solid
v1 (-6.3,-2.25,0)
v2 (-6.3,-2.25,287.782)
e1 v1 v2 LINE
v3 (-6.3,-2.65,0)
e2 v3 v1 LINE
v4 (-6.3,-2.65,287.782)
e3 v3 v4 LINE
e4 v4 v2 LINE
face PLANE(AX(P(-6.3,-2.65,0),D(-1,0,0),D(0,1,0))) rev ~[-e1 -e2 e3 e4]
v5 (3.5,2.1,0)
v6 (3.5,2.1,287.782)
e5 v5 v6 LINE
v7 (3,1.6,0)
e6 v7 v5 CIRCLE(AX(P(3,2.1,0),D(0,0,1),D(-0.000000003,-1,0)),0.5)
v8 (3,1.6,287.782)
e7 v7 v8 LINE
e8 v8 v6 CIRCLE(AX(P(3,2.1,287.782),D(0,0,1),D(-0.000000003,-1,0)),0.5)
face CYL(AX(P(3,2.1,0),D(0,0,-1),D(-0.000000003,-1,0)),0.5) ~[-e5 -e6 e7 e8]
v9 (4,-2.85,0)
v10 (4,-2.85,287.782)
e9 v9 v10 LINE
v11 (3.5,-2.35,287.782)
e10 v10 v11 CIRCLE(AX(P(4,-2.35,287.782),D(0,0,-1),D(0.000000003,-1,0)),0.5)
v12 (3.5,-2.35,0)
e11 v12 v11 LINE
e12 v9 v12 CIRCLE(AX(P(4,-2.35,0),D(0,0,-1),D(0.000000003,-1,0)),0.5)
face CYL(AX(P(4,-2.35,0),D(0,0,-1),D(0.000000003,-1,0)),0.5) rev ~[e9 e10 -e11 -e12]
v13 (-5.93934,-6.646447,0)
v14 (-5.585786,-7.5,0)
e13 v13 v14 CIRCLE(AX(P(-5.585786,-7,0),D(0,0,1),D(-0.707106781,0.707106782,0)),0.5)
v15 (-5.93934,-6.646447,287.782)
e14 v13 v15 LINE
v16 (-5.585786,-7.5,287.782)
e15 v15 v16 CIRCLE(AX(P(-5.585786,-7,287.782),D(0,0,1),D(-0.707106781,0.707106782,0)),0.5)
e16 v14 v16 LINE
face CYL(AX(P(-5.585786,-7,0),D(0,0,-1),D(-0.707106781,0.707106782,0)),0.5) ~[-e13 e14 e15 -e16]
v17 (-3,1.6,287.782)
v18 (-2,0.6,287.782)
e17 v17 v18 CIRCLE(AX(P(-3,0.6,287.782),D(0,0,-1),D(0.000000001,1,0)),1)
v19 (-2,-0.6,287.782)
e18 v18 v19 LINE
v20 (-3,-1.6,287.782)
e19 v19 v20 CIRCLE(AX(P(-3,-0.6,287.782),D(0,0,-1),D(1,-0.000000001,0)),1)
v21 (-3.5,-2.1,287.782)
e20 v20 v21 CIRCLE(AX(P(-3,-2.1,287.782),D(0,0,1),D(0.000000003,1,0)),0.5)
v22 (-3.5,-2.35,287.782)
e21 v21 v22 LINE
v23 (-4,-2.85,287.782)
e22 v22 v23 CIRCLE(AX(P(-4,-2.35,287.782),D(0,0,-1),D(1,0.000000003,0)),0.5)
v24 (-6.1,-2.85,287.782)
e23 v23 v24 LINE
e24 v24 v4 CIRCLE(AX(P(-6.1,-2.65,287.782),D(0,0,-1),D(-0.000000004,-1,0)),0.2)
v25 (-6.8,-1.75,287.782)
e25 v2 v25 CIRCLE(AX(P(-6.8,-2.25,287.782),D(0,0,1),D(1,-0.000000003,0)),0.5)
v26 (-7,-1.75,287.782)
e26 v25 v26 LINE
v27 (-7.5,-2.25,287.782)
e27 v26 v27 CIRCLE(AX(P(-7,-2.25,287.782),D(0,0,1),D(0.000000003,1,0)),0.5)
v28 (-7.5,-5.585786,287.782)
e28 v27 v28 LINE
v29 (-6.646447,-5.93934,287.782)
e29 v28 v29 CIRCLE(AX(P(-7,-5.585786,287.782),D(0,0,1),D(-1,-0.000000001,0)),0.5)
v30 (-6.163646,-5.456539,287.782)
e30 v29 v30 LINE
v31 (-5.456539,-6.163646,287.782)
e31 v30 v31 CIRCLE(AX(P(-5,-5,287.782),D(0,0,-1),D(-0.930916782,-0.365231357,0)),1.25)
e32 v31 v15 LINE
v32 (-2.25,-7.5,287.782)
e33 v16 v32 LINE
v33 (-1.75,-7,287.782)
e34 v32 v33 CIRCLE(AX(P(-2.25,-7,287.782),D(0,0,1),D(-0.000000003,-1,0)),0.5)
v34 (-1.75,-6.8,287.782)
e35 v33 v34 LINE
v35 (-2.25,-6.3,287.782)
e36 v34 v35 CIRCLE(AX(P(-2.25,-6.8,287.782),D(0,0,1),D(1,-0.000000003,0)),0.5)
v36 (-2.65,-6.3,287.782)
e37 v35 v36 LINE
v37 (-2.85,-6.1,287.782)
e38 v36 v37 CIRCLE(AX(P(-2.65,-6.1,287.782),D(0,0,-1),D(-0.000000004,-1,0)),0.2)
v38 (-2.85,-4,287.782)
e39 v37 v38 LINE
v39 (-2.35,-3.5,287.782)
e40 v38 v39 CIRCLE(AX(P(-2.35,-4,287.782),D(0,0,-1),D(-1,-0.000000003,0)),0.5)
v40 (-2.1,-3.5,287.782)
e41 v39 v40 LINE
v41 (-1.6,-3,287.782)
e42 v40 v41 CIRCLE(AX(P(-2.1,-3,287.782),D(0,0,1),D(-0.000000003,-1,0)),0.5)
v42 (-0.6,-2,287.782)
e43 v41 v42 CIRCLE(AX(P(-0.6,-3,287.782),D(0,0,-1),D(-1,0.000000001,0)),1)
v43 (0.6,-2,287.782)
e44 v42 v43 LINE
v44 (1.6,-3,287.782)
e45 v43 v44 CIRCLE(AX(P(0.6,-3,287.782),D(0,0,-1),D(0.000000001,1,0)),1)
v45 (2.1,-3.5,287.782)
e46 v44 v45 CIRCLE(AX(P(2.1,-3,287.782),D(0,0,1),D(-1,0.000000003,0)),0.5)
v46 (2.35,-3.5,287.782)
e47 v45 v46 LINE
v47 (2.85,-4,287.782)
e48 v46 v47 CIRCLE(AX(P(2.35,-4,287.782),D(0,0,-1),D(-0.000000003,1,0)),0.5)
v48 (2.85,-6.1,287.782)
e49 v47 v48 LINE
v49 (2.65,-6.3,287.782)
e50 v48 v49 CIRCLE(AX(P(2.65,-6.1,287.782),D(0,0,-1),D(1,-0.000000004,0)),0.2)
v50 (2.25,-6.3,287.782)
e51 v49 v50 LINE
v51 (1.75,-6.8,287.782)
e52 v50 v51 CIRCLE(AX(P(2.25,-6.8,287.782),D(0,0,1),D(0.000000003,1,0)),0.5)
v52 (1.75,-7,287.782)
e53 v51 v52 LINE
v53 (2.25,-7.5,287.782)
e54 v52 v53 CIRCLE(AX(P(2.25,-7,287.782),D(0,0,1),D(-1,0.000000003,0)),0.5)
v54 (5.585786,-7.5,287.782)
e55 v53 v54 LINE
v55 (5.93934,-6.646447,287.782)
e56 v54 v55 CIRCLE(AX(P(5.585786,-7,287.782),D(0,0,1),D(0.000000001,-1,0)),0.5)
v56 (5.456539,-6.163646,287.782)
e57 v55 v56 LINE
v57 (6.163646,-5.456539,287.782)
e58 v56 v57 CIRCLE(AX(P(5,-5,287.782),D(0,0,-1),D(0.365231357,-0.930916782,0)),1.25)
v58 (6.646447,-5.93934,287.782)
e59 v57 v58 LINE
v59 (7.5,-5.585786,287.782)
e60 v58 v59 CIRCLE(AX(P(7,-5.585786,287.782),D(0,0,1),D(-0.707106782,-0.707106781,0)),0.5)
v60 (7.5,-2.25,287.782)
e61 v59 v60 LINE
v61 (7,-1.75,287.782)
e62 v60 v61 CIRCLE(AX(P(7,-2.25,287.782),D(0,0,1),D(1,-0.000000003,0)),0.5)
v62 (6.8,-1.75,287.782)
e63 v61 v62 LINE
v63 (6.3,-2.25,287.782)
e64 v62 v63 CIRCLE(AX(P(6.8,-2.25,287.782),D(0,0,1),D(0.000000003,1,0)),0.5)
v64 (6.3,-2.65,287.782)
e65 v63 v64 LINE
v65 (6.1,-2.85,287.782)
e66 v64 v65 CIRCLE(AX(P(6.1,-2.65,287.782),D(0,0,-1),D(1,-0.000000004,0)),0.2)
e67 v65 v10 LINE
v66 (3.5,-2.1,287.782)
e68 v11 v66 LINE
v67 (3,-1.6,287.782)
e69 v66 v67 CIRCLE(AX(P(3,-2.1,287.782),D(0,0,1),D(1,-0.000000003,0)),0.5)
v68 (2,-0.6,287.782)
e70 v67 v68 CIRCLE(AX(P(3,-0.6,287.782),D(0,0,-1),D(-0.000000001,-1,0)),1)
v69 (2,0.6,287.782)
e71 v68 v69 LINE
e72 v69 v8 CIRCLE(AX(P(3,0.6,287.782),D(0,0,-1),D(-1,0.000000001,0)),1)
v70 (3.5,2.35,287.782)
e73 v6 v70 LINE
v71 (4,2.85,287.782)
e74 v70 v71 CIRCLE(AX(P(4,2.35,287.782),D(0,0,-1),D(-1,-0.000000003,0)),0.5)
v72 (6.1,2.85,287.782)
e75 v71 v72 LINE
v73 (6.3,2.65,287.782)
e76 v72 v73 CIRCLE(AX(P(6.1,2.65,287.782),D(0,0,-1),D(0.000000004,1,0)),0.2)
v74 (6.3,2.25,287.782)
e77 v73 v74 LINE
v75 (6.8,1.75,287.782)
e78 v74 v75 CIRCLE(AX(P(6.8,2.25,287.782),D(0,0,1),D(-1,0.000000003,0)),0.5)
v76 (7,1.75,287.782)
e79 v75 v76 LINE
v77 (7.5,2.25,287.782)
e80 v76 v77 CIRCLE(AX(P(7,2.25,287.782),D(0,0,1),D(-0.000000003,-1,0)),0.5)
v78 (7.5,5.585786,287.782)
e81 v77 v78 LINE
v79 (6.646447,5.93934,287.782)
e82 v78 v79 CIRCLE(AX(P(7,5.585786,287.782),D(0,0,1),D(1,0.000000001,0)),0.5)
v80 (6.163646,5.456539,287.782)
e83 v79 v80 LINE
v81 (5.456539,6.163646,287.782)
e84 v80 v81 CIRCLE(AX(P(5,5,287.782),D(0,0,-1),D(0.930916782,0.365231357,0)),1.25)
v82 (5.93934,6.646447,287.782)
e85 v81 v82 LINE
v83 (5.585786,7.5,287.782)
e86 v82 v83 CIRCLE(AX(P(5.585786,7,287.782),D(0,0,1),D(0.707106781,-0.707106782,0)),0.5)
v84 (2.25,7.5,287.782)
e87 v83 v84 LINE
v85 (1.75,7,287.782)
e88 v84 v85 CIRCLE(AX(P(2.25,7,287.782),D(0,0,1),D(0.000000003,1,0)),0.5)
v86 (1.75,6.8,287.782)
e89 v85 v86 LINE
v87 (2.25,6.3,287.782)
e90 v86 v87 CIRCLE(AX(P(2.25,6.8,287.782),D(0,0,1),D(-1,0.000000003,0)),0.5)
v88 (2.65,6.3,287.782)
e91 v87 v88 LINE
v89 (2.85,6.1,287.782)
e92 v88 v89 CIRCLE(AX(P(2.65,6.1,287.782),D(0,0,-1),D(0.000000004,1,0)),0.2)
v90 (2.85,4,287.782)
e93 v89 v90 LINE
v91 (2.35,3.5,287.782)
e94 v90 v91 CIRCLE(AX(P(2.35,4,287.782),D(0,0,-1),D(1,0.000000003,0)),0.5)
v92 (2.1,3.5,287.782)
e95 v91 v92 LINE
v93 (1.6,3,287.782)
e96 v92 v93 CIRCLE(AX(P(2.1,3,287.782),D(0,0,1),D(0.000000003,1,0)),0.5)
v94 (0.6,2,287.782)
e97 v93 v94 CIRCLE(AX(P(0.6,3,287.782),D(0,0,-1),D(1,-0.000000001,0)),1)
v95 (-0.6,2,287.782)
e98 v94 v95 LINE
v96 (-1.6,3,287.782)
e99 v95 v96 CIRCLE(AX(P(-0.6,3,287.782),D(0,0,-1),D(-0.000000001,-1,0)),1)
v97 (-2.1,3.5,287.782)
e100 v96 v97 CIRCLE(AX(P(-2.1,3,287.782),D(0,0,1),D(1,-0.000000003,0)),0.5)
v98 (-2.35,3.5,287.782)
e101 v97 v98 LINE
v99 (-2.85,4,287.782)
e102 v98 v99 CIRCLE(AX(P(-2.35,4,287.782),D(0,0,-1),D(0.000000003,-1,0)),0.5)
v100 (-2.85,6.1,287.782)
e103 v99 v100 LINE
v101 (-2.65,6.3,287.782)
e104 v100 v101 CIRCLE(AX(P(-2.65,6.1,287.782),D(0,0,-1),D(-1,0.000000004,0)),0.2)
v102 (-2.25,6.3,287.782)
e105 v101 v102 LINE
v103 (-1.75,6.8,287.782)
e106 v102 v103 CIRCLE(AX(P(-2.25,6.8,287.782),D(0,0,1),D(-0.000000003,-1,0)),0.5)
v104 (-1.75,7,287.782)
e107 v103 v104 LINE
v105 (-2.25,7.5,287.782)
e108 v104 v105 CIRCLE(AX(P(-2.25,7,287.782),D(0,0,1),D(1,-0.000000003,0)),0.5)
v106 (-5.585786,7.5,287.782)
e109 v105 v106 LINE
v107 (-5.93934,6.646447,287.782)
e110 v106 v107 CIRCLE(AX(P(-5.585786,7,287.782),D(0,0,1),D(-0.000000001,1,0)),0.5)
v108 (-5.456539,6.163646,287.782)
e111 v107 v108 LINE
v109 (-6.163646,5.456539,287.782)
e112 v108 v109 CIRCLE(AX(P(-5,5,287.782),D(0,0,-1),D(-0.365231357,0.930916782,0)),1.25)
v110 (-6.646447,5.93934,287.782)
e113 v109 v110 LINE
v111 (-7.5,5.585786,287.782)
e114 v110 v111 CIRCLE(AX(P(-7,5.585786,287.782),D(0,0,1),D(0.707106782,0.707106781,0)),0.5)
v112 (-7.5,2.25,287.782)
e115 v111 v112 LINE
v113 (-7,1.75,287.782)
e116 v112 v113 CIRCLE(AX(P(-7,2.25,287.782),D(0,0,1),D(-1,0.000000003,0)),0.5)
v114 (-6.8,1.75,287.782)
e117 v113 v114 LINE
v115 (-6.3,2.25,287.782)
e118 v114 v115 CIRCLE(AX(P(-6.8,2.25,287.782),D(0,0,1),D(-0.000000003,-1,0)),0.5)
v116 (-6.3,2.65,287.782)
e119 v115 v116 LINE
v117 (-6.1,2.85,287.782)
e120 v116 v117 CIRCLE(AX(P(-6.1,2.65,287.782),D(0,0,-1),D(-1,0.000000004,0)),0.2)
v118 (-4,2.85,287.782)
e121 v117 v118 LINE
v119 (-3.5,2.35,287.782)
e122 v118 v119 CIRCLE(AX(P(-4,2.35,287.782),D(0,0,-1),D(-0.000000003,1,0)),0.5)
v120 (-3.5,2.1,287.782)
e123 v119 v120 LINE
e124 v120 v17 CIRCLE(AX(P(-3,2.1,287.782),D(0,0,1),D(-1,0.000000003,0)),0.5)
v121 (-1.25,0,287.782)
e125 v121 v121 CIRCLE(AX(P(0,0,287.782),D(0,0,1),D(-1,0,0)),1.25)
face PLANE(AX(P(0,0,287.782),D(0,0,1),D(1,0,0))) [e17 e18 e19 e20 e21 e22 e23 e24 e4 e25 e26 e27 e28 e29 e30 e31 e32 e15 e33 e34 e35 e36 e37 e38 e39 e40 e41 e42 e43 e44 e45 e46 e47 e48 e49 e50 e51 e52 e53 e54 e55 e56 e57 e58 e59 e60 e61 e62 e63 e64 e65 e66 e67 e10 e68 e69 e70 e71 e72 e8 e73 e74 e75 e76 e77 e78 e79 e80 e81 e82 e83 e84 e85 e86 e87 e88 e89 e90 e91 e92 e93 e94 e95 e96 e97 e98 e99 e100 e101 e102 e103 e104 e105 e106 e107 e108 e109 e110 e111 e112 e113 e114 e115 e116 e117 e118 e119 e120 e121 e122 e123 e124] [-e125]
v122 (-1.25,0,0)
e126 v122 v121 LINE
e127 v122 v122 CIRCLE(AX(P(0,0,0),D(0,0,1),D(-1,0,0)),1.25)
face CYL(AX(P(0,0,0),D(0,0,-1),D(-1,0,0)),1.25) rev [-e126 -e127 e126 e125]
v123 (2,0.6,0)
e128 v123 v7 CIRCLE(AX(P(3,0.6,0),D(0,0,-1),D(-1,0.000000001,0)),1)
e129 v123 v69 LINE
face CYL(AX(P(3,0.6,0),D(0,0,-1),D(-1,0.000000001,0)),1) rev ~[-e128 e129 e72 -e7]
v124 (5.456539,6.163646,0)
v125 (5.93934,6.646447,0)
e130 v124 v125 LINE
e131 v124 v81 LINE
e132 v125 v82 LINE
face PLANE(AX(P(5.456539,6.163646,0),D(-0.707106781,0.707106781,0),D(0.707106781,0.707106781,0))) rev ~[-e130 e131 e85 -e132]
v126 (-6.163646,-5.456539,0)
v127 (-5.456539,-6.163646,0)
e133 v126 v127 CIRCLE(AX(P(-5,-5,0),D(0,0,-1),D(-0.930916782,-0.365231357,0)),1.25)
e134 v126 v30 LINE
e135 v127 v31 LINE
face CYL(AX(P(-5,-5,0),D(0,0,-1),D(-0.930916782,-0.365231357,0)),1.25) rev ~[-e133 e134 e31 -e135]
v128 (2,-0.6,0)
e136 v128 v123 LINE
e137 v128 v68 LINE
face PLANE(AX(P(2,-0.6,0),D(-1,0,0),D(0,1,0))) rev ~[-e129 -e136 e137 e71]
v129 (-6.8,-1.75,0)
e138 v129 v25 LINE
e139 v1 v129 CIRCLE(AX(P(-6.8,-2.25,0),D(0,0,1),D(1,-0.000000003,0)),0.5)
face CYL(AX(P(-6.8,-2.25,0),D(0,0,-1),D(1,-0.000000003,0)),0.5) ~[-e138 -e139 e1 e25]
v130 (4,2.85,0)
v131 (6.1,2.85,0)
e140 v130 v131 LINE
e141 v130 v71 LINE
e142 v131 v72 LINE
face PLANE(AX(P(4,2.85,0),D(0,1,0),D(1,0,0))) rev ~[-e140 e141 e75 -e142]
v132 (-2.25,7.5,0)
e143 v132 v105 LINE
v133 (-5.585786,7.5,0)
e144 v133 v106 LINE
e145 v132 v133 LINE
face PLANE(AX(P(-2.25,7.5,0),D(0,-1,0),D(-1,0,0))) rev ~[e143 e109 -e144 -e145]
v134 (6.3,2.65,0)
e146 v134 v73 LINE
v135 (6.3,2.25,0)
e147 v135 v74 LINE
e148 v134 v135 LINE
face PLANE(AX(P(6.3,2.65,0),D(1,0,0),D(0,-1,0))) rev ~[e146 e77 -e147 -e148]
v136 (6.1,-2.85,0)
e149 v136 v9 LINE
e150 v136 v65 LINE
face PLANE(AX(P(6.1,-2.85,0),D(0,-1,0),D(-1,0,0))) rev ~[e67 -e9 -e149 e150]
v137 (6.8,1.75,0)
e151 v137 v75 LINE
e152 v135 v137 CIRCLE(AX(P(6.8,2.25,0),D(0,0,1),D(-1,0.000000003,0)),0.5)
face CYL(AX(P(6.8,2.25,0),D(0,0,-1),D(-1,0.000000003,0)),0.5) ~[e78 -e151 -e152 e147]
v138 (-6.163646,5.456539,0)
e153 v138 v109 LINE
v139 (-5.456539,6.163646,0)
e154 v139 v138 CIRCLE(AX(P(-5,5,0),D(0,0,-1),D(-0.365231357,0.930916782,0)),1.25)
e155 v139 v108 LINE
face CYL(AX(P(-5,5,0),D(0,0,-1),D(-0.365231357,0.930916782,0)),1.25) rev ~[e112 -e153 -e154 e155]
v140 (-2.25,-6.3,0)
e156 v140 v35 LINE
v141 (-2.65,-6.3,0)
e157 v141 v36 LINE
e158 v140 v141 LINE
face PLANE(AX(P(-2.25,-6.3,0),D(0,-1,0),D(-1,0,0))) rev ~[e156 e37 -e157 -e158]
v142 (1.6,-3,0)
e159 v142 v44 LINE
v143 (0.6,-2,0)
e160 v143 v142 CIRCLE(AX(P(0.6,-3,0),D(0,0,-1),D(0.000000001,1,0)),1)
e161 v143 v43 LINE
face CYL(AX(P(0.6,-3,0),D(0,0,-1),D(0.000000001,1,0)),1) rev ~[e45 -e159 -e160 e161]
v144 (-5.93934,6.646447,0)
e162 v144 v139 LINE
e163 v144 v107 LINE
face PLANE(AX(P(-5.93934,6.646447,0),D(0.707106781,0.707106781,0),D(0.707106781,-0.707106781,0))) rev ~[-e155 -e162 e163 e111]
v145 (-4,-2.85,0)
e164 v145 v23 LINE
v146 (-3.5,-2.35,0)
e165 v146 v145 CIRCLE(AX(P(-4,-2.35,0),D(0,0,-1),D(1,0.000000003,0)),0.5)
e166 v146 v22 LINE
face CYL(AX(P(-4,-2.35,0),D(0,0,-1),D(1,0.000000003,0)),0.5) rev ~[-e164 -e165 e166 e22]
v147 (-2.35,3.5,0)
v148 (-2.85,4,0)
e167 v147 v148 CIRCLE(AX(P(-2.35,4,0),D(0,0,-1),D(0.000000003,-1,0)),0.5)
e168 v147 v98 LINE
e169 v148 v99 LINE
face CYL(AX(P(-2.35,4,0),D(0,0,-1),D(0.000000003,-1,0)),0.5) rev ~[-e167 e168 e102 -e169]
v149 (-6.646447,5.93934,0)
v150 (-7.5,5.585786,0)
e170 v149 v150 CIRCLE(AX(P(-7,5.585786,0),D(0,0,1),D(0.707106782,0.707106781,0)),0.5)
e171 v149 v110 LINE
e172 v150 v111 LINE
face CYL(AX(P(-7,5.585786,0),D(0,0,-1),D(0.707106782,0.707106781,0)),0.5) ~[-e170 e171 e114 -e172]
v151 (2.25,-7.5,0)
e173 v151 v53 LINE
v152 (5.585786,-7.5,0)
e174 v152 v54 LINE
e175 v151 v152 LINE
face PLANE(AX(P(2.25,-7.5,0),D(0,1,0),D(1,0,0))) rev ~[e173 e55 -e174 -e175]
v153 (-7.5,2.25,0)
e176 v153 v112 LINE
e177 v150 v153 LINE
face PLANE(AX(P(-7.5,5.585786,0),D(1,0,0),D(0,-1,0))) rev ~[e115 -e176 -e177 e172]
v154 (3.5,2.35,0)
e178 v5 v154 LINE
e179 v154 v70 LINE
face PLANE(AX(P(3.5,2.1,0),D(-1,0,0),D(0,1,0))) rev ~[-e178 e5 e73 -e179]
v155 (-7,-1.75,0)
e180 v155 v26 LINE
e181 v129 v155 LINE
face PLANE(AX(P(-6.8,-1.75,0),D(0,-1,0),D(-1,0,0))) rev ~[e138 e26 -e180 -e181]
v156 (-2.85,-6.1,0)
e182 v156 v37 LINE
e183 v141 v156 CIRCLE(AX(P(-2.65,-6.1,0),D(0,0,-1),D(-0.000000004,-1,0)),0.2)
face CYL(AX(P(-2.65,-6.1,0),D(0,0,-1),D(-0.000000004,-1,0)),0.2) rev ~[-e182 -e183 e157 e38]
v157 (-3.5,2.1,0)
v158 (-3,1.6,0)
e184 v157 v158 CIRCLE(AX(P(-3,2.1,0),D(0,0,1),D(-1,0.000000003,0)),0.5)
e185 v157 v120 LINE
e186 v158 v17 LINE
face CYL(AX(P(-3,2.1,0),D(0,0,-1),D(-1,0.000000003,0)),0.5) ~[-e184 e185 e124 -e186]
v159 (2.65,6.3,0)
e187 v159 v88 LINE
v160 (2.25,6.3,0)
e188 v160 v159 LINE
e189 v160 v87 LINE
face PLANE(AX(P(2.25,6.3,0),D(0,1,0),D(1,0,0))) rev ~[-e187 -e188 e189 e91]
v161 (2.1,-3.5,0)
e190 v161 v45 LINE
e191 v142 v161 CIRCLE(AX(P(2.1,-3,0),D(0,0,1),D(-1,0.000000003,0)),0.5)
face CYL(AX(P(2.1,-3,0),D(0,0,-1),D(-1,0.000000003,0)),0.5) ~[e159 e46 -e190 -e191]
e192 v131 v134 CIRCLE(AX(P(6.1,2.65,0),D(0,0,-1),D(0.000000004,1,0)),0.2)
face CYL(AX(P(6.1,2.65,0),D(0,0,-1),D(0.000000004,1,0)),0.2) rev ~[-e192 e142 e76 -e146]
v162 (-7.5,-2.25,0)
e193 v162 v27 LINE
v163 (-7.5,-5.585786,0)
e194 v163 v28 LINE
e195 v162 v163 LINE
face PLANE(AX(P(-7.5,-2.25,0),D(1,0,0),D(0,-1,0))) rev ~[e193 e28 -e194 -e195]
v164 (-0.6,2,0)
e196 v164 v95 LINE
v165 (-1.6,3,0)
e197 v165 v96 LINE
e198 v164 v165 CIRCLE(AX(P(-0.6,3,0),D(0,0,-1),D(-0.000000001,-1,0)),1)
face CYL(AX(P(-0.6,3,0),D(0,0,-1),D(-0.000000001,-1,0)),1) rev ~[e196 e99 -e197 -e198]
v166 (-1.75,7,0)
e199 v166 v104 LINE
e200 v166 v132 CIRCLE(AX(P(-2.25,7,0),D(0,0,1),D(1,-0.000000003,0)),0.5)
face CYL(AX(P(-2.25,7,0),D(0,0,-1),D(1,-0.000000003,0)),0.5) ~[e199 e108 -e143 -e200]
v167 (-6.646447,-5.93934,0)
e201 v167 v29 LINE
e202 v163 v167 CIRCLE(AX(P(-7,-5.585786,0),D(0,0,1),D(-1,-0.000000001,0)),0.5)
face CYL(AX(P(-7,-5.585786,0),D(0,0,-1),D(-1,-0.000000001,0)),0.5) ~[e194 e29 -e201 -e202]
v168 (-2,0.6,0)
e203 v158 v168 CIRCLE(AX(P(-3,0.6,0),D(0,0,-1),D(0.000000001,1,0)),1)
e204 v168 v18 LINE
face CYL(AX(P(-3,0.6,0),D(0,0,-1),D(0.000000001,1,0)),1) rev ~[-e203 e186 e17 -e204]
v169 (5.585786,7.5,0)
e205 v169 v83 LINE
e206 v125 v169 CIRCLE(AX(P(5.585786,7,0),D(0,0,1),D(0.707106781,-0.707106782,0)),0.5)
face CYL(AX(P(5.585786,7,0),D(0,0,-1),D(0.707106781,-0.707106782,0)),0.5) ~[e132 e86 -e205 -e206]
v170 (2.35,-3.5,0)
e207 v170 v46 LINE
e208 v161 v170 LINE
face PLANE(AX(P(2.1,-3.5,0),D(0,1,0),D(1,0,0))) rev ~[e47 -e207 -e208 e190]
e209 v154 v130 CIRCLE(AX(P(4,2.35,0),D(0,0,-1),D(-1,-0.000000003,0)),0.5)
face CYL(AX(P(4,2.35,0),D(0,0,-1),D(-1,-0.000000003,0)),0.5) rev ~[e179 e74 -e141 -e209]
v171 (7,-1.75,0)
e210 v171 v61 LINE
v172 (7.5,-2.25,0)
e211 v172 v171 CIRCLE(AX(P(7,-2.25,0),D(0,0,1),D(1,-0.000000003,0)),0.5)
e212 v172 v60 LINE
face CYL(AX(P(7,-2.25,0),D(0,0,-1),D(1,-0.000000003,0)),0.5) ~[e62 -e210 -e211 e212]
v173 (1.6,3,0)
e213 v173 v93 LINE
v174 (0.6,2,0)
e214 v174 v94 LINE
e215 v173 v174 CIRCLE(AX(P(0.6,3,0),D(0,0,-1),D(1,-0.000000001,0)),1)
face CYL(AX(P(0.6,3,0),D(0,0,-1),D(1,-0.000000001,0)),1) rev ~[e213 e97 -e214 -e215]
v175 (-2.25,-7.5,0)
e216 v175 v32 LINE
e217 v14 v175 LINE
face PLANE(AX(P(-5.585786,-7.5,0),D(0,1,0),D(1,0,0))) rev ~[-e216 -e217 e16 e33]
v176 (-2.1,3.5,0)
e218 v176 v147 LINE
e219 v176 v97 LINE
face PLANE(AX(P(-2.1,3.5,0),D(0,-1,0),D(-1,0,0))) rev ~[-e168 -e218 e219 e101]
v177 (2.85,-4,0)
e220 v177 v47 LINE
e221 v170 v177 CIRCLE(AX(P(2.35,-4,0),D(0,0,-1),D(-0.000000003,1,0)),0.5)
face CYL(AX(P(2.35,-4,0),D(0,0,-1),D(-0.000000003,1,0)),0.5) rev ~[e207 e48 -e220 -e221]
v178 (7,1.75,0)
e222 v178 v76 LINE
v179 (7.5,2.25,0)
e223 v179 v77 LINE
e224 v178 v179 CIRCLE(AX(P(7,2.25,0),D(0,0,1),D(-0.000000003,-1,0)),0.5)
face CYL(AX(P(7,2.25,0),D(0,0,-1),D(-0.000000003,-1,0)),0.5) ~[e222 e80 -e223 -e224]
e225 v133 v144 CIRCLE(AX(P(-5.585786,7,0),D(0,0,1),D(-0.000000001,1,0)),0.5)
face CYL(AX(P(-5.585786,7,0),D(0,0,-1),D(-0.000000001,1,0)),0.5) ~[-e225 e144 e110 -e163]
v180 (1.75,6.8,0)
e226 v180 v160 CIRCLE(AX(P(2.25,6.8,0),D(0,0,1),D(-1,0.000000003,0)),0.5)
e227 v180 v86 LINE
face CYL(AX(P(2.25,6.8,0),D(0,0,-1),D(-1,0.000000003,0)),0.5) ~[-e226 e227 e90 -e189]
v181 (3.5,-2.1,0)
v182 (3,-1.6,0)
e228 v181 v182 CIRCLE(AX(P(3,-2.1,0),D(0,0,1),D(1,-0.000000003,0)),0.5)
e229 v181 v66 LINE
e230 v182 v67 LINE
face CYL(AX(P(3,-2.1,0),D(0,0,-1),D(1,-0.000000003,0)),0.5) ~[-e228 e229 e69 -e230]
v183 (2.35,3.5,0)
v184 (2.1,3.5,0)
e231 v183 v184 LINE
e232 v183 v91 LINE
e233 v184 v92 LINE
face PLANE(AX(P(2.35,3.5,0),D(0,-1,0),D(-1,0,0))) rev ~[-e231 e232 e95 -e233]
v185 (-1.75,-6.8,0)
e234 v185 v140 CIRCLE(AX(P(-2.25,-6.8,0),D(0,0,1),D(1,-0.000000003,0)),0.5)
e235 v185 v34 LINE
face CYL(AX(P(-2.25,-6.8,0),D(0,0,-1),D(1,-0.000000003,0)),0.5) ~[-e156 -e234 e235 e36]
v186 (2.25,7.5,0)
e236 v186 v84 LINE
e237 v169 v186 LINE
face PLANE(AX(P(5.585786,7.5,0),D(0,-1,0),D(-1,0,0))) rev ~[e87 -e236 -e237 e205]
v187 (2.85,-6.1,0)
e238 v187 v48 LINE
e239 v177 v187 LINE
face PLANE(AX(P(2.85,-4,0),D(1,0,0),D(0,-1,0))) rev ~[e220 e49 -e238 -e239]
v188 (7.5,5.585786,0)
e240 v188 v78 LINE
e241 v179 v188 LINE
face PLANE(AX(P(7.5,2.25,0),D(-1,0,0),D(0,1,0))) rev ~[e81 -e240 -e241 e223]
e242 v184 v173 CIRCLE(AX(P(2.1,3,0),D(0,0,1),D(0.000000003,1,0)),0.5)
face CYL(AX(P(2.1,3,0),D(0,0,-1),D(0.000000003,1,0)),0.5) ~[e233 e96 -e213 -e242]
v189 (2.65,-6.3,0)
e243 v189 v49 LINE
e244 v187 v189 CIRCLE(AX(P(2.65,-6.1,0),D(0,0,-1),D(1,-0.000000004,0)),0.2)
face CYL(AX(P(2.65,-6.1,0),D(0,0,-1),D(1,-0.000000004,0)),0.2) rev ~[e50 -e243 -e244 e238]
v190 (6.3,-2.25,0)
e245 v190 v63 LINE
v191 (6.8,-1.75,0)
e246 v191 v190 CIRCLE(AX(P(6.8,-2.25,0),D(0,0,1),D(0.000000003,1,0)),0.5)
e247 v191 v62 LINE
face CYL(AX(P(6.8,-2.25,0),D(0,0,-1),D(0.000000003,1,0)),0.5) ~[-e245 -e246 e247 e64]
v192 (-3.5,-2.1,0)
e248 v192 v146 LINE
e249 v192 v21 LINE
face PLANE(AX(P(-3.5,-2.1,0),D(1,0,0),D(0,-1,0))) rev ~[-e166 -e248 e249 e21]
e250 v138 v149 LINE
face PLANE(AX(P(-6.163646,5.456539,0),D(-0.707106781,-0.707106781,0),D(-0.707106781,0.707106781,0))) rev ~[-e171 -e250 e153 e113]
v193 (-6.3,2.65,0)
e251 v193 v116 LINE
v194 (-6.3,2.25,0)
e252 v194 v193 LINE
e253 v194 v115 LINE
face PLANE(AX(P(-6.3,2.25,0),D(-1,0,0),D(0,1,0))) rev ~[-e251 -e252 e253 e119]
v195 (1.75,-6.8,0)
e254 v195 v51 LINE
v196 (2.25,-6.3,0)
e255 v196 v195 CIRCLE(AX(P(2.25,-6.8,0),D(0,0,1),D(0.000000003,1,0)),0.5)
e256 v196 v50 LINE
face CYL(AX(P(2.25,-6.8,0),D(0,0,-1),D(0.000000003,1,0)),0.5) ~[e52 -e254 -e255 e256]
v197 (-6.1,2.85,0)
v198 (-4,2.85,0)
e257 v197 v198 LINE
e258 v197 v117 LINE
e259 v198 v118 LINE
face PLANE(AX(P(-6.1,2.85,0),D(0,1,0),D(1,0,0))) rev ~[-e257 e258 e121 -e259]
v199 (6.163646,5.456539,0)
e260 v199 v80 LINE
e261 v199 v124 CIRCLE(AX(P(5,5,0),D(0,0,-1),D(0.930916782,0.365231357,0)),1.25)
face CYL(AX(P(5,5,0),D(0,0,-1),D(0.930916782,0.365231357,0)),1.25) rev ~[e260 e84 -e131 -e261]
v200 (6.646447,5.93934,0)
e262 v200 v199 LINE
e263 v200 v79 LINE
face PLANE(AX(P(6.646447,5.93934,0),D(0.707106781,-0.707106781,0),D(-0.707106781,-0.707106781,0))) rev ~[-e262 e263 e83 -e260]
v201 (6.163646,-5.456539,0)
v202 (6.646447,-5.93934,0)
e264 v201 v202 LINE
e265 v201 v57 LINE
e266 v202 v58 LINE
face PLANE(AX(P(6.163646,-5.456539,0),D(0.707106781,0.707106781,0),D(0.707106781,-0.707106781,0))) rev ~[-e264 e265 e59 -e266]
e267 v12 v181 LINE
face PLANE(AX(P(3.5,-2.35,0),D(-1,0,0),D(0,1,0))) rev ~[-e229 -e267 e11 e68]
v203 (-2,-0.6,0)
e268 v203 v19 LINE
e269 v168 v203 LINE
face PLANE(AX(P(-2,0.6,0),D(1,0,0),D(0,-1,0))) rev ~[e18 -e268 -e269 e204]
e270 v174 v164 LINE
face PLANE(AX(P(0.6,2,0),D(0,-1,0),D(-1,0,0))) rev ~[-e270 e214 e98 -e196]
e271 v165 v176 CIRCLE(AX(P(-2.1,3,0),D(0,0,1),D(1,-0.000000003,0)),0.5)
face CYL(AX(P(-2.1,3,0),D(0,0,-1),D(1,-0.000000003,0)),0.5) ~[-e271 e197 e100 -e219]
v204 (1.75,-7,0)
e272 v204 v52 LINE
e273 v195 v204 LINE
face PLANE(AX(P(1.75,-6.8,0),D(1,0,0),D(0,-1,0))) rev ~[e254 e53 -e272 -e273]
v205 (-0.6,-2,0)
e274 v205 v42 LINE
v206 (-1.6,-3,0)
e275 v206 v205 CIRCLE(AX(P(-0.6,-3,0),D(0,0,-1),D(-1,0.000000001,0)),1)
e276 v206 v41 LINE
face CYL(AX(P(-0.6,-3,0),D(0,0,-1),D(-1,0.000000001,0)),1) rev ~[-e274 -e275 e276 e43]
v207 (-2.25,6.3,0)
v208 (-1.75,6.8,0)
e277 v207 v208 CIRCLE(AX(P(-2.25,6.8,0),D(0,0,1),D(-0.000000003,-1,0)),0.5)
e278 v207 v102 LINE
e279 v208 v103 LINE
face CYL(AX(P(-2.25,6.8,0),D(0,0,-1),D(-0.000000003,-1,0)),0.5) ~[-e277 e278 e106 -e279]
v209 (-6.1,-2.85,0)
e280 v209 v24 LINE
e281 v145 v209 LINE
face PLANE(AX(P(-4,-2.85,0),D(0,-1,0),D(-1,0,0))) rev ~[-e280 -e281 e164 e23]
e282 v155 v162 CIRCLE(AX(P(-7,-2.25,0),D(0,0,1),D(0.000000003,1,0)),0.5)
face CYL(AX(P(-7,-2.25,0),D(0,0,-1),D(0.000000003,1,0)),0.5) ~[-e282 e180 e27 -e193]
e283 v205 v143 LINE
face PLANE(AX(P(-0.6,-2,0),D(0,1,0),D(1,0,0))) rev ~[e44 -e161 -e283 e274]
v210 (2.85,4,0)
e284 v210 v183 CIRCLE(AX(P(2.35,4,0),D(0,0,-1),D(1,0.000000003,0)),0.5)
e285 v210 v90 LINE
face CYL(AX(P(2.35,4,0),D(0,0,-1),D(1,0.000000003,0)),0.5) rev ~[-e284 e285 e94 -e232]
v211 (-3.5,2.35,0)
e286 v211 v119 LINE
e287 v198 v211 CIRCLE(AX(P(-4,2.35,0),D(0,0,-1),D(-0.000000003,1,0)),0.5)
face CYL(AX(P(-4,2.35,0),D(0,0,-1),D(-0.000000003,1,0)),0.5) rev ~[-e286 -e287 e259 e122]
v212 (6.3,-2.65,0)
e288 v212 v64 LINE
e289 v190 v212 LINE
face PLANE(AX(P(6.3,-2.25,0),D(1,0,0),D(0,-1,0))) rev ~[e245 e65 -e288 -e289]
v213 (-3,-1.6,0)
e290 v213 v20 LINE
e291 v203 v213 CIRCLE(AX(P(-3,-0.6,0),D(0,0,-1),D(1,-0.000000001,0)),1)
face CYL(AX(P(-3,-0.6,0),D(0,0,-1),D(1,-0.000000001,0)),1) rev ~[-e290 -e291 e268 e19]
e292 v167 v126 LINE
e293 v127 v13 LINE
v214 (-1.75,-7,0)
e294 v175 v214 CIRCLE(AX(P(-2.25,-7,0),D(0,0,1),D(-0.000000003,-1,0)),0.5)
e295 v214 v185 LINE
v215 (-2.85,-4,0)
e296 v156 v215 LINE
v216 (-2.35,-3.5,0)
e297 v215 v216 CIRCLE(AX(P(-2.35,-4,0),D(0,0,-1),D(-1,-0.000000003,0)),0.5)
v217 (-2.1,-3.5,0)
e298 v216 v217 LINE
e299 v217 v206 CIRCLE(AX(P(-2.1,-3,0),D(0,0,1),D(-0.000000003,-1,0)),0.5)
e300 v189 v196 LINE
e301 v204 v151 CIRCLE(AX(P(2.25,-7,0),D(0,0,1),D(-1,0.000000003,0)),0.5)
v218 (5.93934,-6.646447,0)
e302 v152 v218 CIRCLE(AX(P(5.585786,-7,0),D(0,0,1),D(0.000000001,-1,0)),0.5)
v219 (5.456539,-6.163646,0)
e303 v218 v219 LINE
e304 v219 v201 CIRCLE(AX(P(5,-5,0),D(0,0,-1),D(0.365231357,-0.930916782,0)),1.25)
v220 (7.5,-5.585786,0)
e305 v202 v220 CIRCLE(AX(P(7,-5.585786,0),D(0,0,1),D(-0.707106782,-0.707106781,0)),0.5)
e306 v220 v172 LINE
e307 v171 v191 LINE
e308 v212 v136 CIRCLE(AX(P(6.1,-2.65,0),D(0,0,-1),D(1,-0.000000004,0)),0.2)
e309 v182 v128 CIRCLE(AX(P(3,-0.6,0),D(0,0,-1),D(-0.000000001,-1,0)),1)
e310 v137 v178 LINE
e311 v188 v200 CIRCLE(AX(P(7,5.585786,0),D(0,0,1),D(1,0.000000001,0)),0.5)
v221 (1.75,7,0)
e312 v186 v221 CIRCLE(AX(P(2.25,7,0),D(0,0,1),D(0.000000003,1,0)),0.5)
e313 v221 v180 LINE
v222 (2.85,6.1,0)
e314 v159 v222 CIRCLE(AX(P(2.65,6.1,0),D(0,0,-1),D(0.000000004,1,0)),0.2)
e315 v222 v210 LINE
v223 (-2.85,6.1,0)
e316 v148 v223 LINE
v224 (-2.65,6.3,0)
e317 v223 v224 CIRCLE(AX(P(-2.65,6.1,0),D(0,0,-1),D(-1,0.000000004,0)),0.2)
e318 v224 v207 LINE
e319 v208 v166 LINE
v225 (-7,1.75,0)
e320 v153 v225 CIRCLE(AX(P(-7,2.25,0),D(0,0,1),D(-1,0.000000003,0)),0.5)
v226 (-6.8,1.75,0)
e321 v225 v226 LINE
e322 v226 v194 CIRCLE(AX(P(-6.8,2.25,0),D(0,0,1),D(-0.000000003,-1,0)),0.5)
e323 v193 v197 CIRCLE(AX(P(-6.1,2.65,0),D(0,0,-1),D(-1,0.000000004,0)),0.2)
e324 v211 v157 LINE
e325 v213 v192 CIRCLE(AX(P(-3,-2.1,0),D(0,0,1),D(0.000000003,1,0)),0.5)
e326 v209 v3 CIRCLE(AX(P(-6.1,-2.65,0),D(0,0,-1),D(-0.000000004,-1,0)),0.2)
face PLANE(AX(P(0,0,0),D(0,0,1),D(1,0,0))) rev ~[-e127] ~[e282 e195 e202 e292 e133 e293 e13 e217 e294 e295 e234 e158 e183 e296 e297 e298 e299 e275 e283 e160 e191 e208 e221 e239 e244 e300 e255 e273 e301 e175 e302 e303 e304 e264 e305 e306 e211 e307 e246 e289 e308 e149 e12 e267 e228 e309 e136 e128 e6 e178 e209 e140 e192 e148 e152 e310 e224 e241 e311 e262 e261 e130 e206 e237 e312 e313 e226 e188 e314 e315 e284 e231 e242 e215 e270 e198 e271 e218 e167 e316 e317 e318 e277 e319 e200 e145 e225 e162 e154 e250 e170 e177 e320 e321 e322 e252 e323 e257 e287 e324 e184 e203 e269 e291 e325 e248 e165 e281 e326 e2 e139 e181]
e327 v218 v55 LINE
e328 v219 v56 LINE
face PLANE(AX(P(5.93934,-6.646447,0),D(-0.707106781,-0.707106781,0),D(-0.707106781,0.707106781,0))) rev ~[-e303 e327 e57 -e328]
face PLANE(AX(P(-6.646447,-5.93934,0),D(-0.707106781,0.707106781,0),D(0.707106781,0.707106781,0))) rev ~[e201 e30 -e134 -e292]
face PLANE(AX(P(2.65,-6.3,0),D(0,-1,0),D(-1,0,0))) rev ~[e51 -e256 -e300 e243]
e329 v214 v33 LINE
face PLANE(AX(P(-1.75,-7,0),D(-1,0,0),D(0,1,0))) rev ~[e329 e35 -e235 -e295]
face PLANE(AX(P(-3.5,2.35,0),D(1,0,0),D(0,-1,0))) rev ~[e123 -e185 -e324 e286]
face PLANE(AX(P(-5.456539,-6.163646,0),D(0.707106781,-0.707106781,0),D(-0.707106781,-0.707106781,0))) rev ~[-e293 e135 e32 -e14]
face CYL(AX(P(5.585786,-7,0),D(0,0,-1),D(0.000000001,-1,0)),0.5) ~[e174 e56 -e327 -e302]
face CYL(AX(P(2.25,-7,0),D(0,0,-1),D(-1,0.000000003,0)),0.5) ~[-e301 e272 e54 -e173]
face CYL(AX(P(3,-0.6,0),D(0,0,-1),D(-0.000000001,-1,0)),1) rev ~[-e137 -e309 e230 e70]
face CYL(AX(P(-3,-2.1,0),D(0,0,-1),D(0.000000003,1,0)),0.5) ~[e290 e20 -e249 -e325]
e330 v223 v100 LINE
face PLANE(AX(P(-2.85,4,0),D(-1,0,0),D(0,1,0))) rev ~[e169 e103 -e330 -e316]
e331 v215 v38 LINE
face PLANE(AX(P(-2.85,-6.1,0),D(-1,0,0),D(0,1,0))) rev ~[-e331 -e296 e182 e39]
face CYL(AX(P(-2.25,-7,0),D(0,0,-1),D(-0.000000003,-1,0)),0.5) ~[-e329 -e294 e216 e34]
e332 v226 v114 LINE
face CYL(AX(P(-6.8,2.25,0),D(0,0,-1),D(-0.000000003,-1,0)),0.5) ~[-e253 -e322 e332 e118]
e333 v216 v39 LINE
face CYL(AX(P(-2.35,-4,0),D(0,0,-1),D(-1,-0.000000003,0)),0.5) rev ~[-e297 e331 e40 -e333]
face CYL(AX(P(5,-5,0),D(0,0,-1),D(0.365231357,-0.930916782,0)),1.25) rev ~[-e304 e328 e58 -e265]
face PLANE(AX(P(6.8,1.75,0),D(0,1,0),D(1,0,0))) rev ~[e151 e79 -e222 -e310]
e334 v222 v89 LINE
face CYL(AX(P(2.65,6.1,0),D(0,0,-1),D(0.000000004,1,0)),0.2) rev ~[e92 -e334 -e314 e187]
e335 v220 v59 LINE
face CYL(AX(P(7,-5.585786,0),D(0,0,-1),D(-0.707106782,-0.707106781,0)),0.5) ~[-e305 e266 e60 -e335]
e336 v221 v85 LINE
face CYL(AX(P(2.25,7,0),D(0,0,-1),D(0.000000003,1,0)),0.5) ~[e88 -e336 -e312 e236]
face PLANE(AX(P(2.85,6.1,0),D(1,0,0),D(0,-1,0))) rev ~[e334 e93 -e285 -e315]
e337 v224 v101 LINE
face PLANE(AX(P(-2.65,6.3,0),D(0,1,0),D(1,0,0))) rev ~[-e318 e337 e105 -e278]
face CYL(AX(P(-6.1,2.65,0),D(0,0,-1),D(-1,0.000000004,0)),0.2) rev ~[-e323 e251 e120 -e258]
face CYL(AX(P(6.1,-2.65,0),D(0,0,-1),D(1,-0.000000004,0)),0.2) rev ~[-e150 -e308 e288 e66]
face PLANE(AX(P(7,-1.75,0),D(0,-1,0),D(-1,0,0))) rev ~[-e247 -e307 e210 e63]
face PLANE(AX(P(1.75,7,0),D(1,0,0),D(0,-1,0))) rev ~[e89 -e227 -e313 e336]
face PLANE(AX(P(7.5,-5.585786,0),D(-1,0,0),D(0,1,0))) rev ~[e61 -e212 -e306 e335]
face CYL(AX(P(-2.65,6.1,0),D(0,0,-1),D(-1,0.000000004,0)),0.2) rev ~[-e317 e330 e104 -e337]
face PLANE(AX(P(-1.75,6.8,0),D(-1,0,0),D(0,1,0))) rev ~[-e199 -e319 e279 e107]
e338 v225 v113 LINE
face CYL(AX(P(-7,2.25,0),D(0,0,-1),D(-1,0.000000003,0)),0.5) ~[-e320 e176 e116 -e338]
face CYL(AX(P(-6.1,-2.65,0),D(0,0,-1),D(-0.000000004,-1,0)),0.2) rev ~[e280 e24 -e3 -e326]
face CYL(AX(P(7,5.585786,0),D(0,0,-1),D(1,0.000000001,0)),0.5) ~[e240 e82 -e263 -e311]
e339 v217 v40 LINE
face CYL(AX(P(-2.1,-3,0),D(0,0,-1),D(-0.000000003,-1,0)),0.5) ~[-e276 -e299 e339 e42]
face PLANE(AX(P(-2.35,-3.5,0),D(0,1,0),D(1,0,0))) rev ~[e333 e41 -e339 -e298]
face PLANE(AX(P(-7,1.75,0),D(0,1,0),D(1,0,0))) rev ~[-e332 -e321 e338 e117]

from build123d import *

# Parameters (mm, degrees)
SKETCH1_R           = 1.25
BOSS_EXTRUDE1_DEPTH = 287.782


with BuildPart() as part:
    # Sketch1 → Boss-Extrude1 (new body)
    with BuildSketch(Plane.XY):
        with BuildLine():
            Line((6.646446609, 5.939339828), (6.163645978, 5.456539197))
            ThreePointArc((6.163645978, 5.456539197), (4.116116524, 4.116116524), (5.456539197, 6.163645978))
            Line((5.456539197, 6.163645978), (5.939339828, 6.646446609))
            ThreePointArc((5.939339828, 6.646446609), (6.047726204, 7.191341716), (5.585786438, 7.5))
            Line((5.585786438, 7.5), (2.25, 7.5))
            ThreePointArc((2.25, 7.5), (1.896446609, 7.353553391), (1.75, 7))
            Line((1.75, 7), (1.75, 6.8))
            ThreePointArc((1.75, 6.8), (1.896446609, 6.446446609), (2.25, 6.3))
            Line((2.25, 6.3), (2.65, 6.3))
            ThreePointArc((2.65, 6.3), (2.791421356, 6.241421356), (2.85, 6.1))
            Line((2.85, 6.1), (2.85, 4))
            ThreePointArc((2.85, 4), (2.703553391, 3.646446609), (2.35, 3.5))
            Line((2.35, 3.5), (2.1, 3.5))
            ThreePointArc((2.1, 3.5), (1.746446609, 3.353553391), (1.6, 3))
            ThreePointArc((1.6, 3), (1.307106781, 2.292893219), (0.6, 2))
            Line((0.6, 2), (-0.6, 2))
            ThreePointArc((-0.6, 2), (-1.307106781, 2.292893219), (-1.6, 3))
            ThreePointArc((-1.6, 3), (-1.746446609, 3.353553391), (-2.1, 3.5))
            Line((-2.1, 3.5), (-2.35, 3.5))
            ThreePointArc((-2.35, 3.5), (-2.703553391, 3.646446609), (-2.85, 4))
            Line((-2.85, 4), (-2.85, 6.1))
            ThreePointArc((-2.85, 6.1), (-2.791421356, 6.241421356), (-2.65, 6.3))
            Line((-2.65, 6.3), (-2.25, 6.3))
            ThreePointArc((-2.25, 6.3), (-1.896446609, 6.446446609), (-1.75, 6.8))
            Line((-1.75, 6.8), (-1.75, 7))
            ThreePointArc((-1.75, 7), (-1.896446609, 7.353553391), (-2.25, 7.5))
            Line((-2.25, 7.5), (-5.585786438, 7.5))
            ThreePointArc((-5.585786438, 7.5), (-6.047726204, 7.191341716), (-5.939339828, 6.646446609))
            Line((-5.939339828, 6.646446609), (-5.456539197, 6.163645978))
            ThreePointArc((-5.456539197, 6.163645978), (-4.116116524, 4.116116524), (-6.163645978, 5.456539197))
            Line((-6.163645978, 5.456539197), (-6.646446609, 5.939339828))
            ThreePointArc((-6.646446609, 5.939339828), (-7.191341716, 6.047726204), (-7.5, 5.585786438))
            Line((-7.5, 5.585786438), (-7.5, 2.25))
            ThreePointArc((-7.5, 2.25), (-7.353553391, 1.896446609), (-7, 1.75))
            Line((-7, 1.75), (-6.8, 1.75))
            ThreePointArc((-6.8, 1.75), (-6.446446609, 1.896446609), (-6.3, 2.25))
            Line((-6.3, 2.25), (-6.3, 2.65))
            ThreePointArc((-6.3, 2.65), (-6.241421356, 2.791421356), (-6.1, 2.85))
            Line((-6.1, 2.85), (-4, 2.85))
            ThreePointArc((-4, 2.85), (-3.646446609, 2.703553391), (-3.5, 2.35))
            Line((-3.5, 2.35), (-3.5, 2.1))
            ThreePointArc((-3.5, 2.1), (-3.353553391, 1.746446609), (-3, 1.6))
            ThreePointArc((-3, 1.6), (-2.292893219, 1.307106781), (-2, 0.6))
            Line((-2, 0.6), (-2, -0.6))
            ThreePointArc((-2, -0.6), (-2.292893219, -1.307106781), (-3, -1.6))
            ThreePointArc((-3, -1.6), (-3.353553391, -1.746446609), (-3.5, -2.1))
            Line((-3.5, -2.1), (-3.5, -2.35))
            ThreePointArc((-3.5, -2.35), (-3.646446609, -2.703553391), (-4, -2.85))
            Line((-4, -2.85), (-6.1, -2.85))
            ThreePointArc((-6.1, -2.85), (-6.241421356, -2.791421356), (-6.3, -2.65))
            Line((-6.3, -2.65), (-6.3, -2.25))
            ThreePointArc((-6.3, -2.25), (-6.446446609, -1.896446609), (-6.8, -1.75))
            Line((-6.8, -1.75), (-7, -1.75))
            ThreePointArc((-7, -1.75), (-7.353553391, -1.896446609), (-7.5, -2.25))
            Line((-7.5, -2.25), (-7.5, -5.585786438))
            ThreePointArc((-7.5, -5.585786438), (-7.191341716, -6.047726204), (-6.646446609, -5.939339828))
            Line((-6.646446609, -5.939339828), (-6.163645978, -5.456539197))
            ThreePointArc((-6.163645978, -5.456539197), (-4.116116524, -4.116116524), (-5.456539197, -6.163645978))
            Line((-5.456539197, -6.163645978), (-5.939339828, -6.646446609))
            ThreePointArc((-5.939339828, -6.646446609), (-6.047726204, -7.191341716), (-5.585786438, -7.5))
            Line((-5.585786438, -7.5), (-2.25, -7.5))
            ThreePointArc((-2.25, -7.5), (-1.896446609, -7.353553391), (-1.75, -7))
            Line((-1.75, -7), (-1.75, -6.8))
            ThreePointArc((-1.75, -6.8), (-1.896446609, -6.446446609), (-2.25, -6.3))
            Line((-2.25, -6.3), (-2.65, -6.3))
            ThreePointArc((-2.65, -6.3), (-2.791421356, -6.241421356), (-2.85, -6.1))
            Line((-2.85, -6.1), (-2.85, -4))
            ThreePointArc((-2.85, -4), (-2.703553391, -3.646446609), (-2.35, -3.5))
            Line((-2.35, -3.5), (-2.1, -3.5))
            ThreePointArc((-2.1, -3.5), (-1.746446609, -3.353553391), (-1.6, -3))
            ThreePointArc((-1.6, -3), (-1.307106781, -2.292893219), (-0.6, -2))
            Line((-0.6, -2), (0.6, -2))
            ThreePointArc((0.6, -2), (1.307106781, -2.292893219), (1.6, -3))
            ThreePointArc((1.6, -3), (1.746446609, -3.353553391), (2.1, -3.5))
            Line((2.1, -3.5), (2.35, -3.5))
            ThreePointArc((2.35, -3.5), (2.703553391, -3.646446609), (2.85, -4))
            Line((2.85, -4), (2.85, -6.1))
            ThreePointArc((2.85, -6.1), (2.791421356, -6.241421356), (2.65, -6.3))
            Line((2.65, -6.3), (2.25, -6.3))
            ThreePointArc((2.25, -6.3), (1.896446609, -6.446446609), (1.75, -6.8))
            Line((1.75, -6.8), (1.75, -7))
            ThreePointArc((1.75, -7), (1.896446609, -7.353553391), (2.25, -7.5))
            Line((2.25, -7.5), (5.585786438, -7.5))
            ThreePointArc((5.585786438, -7.5), (6.047726204, -7.191341716), (5.939339828, -6.646446609))
            Line((5.939339828, -6.646446609), (5.456539197, -6.163645978))
            ThreePointArc((5.456539197, -6.163645978), (4.116116524, -4.116116524), (6.163645978, -5.456539197))
            Line((6.163645978, -5.456539197), (6.646446609, -5.939339828))
            ThreePointArc((6.646446609, -5.939339828), (7.191341716, -6.047726204), (7.5, -5.585786438))
            Line((7.5, -5.585786438), (7.5, -2.25))
            ThreePointArc((7.5, -2.25), (7.353553391, -1.896446609), (7, -1.75))
            Line((7, -1.75), (6.8, -1.75))
            ThreePointArc((6.8, -1.75), (6.446446609, -1.896446609), (6.3, -2.25))
            Line((6.3, -2.25), (6.3, -2.65))
            ThreePointArc((6.3, -2.65), (6.241421356, -2.791421356), (6.1, -2.85))
            Line((6.1, -2.85), (4, -2.85))
            ThreePointArc((4, -2.85), (3.646446609, -2.703553391), (3.5, -2.35))
            Line((3.5, -2.35), (3.5, -2.1))
            ThreePointArc((3.5, -2.1), (3.353553391, -1.746446609), (3, -1.6))
            ThreePointArc((3, -1.6), (2.292893219, -1.307106781), (2, -0.6))
            Line((2, -0.6), (2, 0.6))
            ThreePointArc((2, 0.6), (2.292893219, 1.307106781), (3, 1.6))
            ThreePointArc((3, 1.6), (3.353553391, 1.746446609), (3.5, 2.1))
            Line((3.5, 2.1), (3.5, 2.35))
            ThreePointArc((3.5, 2.35), (3.646446609, 2.703553391), (4, 2.85))
            Line((4, 2.85), (6.1, 2.85))
            ThreePointArc((6.1, 2.85), (6.241421356, 2.791421356), (6.3, 2.65))
            Line((6.3, 2.65), (6.3, 2.25))
            ThreePointArc((6.3, 2.25), (6.446446609, 1.896446609), (6.8, 1.75))
            Line((6.8, 1.75), (7, 1.75))
            ThreePointArc((7, 1.75), (7.353553391, 1.896446609), (7.5, 2.25))
            Line((7.5, 2.25), (7.5, 5.585786438))
            ThreePointArc((7.5, 5.585786438), (7.191341716, 6.047726204), (6.646446609, 5.939339828))
        make_face()
        with Locations(Location((0, 0, 0), (0, 0, 180))):
            Circle(SKETCH1_R, mode=Mode.SUBTRACT)
    extrude(amount=BOSS_EXTRUDE1_DEPTH)


solid = part.part
